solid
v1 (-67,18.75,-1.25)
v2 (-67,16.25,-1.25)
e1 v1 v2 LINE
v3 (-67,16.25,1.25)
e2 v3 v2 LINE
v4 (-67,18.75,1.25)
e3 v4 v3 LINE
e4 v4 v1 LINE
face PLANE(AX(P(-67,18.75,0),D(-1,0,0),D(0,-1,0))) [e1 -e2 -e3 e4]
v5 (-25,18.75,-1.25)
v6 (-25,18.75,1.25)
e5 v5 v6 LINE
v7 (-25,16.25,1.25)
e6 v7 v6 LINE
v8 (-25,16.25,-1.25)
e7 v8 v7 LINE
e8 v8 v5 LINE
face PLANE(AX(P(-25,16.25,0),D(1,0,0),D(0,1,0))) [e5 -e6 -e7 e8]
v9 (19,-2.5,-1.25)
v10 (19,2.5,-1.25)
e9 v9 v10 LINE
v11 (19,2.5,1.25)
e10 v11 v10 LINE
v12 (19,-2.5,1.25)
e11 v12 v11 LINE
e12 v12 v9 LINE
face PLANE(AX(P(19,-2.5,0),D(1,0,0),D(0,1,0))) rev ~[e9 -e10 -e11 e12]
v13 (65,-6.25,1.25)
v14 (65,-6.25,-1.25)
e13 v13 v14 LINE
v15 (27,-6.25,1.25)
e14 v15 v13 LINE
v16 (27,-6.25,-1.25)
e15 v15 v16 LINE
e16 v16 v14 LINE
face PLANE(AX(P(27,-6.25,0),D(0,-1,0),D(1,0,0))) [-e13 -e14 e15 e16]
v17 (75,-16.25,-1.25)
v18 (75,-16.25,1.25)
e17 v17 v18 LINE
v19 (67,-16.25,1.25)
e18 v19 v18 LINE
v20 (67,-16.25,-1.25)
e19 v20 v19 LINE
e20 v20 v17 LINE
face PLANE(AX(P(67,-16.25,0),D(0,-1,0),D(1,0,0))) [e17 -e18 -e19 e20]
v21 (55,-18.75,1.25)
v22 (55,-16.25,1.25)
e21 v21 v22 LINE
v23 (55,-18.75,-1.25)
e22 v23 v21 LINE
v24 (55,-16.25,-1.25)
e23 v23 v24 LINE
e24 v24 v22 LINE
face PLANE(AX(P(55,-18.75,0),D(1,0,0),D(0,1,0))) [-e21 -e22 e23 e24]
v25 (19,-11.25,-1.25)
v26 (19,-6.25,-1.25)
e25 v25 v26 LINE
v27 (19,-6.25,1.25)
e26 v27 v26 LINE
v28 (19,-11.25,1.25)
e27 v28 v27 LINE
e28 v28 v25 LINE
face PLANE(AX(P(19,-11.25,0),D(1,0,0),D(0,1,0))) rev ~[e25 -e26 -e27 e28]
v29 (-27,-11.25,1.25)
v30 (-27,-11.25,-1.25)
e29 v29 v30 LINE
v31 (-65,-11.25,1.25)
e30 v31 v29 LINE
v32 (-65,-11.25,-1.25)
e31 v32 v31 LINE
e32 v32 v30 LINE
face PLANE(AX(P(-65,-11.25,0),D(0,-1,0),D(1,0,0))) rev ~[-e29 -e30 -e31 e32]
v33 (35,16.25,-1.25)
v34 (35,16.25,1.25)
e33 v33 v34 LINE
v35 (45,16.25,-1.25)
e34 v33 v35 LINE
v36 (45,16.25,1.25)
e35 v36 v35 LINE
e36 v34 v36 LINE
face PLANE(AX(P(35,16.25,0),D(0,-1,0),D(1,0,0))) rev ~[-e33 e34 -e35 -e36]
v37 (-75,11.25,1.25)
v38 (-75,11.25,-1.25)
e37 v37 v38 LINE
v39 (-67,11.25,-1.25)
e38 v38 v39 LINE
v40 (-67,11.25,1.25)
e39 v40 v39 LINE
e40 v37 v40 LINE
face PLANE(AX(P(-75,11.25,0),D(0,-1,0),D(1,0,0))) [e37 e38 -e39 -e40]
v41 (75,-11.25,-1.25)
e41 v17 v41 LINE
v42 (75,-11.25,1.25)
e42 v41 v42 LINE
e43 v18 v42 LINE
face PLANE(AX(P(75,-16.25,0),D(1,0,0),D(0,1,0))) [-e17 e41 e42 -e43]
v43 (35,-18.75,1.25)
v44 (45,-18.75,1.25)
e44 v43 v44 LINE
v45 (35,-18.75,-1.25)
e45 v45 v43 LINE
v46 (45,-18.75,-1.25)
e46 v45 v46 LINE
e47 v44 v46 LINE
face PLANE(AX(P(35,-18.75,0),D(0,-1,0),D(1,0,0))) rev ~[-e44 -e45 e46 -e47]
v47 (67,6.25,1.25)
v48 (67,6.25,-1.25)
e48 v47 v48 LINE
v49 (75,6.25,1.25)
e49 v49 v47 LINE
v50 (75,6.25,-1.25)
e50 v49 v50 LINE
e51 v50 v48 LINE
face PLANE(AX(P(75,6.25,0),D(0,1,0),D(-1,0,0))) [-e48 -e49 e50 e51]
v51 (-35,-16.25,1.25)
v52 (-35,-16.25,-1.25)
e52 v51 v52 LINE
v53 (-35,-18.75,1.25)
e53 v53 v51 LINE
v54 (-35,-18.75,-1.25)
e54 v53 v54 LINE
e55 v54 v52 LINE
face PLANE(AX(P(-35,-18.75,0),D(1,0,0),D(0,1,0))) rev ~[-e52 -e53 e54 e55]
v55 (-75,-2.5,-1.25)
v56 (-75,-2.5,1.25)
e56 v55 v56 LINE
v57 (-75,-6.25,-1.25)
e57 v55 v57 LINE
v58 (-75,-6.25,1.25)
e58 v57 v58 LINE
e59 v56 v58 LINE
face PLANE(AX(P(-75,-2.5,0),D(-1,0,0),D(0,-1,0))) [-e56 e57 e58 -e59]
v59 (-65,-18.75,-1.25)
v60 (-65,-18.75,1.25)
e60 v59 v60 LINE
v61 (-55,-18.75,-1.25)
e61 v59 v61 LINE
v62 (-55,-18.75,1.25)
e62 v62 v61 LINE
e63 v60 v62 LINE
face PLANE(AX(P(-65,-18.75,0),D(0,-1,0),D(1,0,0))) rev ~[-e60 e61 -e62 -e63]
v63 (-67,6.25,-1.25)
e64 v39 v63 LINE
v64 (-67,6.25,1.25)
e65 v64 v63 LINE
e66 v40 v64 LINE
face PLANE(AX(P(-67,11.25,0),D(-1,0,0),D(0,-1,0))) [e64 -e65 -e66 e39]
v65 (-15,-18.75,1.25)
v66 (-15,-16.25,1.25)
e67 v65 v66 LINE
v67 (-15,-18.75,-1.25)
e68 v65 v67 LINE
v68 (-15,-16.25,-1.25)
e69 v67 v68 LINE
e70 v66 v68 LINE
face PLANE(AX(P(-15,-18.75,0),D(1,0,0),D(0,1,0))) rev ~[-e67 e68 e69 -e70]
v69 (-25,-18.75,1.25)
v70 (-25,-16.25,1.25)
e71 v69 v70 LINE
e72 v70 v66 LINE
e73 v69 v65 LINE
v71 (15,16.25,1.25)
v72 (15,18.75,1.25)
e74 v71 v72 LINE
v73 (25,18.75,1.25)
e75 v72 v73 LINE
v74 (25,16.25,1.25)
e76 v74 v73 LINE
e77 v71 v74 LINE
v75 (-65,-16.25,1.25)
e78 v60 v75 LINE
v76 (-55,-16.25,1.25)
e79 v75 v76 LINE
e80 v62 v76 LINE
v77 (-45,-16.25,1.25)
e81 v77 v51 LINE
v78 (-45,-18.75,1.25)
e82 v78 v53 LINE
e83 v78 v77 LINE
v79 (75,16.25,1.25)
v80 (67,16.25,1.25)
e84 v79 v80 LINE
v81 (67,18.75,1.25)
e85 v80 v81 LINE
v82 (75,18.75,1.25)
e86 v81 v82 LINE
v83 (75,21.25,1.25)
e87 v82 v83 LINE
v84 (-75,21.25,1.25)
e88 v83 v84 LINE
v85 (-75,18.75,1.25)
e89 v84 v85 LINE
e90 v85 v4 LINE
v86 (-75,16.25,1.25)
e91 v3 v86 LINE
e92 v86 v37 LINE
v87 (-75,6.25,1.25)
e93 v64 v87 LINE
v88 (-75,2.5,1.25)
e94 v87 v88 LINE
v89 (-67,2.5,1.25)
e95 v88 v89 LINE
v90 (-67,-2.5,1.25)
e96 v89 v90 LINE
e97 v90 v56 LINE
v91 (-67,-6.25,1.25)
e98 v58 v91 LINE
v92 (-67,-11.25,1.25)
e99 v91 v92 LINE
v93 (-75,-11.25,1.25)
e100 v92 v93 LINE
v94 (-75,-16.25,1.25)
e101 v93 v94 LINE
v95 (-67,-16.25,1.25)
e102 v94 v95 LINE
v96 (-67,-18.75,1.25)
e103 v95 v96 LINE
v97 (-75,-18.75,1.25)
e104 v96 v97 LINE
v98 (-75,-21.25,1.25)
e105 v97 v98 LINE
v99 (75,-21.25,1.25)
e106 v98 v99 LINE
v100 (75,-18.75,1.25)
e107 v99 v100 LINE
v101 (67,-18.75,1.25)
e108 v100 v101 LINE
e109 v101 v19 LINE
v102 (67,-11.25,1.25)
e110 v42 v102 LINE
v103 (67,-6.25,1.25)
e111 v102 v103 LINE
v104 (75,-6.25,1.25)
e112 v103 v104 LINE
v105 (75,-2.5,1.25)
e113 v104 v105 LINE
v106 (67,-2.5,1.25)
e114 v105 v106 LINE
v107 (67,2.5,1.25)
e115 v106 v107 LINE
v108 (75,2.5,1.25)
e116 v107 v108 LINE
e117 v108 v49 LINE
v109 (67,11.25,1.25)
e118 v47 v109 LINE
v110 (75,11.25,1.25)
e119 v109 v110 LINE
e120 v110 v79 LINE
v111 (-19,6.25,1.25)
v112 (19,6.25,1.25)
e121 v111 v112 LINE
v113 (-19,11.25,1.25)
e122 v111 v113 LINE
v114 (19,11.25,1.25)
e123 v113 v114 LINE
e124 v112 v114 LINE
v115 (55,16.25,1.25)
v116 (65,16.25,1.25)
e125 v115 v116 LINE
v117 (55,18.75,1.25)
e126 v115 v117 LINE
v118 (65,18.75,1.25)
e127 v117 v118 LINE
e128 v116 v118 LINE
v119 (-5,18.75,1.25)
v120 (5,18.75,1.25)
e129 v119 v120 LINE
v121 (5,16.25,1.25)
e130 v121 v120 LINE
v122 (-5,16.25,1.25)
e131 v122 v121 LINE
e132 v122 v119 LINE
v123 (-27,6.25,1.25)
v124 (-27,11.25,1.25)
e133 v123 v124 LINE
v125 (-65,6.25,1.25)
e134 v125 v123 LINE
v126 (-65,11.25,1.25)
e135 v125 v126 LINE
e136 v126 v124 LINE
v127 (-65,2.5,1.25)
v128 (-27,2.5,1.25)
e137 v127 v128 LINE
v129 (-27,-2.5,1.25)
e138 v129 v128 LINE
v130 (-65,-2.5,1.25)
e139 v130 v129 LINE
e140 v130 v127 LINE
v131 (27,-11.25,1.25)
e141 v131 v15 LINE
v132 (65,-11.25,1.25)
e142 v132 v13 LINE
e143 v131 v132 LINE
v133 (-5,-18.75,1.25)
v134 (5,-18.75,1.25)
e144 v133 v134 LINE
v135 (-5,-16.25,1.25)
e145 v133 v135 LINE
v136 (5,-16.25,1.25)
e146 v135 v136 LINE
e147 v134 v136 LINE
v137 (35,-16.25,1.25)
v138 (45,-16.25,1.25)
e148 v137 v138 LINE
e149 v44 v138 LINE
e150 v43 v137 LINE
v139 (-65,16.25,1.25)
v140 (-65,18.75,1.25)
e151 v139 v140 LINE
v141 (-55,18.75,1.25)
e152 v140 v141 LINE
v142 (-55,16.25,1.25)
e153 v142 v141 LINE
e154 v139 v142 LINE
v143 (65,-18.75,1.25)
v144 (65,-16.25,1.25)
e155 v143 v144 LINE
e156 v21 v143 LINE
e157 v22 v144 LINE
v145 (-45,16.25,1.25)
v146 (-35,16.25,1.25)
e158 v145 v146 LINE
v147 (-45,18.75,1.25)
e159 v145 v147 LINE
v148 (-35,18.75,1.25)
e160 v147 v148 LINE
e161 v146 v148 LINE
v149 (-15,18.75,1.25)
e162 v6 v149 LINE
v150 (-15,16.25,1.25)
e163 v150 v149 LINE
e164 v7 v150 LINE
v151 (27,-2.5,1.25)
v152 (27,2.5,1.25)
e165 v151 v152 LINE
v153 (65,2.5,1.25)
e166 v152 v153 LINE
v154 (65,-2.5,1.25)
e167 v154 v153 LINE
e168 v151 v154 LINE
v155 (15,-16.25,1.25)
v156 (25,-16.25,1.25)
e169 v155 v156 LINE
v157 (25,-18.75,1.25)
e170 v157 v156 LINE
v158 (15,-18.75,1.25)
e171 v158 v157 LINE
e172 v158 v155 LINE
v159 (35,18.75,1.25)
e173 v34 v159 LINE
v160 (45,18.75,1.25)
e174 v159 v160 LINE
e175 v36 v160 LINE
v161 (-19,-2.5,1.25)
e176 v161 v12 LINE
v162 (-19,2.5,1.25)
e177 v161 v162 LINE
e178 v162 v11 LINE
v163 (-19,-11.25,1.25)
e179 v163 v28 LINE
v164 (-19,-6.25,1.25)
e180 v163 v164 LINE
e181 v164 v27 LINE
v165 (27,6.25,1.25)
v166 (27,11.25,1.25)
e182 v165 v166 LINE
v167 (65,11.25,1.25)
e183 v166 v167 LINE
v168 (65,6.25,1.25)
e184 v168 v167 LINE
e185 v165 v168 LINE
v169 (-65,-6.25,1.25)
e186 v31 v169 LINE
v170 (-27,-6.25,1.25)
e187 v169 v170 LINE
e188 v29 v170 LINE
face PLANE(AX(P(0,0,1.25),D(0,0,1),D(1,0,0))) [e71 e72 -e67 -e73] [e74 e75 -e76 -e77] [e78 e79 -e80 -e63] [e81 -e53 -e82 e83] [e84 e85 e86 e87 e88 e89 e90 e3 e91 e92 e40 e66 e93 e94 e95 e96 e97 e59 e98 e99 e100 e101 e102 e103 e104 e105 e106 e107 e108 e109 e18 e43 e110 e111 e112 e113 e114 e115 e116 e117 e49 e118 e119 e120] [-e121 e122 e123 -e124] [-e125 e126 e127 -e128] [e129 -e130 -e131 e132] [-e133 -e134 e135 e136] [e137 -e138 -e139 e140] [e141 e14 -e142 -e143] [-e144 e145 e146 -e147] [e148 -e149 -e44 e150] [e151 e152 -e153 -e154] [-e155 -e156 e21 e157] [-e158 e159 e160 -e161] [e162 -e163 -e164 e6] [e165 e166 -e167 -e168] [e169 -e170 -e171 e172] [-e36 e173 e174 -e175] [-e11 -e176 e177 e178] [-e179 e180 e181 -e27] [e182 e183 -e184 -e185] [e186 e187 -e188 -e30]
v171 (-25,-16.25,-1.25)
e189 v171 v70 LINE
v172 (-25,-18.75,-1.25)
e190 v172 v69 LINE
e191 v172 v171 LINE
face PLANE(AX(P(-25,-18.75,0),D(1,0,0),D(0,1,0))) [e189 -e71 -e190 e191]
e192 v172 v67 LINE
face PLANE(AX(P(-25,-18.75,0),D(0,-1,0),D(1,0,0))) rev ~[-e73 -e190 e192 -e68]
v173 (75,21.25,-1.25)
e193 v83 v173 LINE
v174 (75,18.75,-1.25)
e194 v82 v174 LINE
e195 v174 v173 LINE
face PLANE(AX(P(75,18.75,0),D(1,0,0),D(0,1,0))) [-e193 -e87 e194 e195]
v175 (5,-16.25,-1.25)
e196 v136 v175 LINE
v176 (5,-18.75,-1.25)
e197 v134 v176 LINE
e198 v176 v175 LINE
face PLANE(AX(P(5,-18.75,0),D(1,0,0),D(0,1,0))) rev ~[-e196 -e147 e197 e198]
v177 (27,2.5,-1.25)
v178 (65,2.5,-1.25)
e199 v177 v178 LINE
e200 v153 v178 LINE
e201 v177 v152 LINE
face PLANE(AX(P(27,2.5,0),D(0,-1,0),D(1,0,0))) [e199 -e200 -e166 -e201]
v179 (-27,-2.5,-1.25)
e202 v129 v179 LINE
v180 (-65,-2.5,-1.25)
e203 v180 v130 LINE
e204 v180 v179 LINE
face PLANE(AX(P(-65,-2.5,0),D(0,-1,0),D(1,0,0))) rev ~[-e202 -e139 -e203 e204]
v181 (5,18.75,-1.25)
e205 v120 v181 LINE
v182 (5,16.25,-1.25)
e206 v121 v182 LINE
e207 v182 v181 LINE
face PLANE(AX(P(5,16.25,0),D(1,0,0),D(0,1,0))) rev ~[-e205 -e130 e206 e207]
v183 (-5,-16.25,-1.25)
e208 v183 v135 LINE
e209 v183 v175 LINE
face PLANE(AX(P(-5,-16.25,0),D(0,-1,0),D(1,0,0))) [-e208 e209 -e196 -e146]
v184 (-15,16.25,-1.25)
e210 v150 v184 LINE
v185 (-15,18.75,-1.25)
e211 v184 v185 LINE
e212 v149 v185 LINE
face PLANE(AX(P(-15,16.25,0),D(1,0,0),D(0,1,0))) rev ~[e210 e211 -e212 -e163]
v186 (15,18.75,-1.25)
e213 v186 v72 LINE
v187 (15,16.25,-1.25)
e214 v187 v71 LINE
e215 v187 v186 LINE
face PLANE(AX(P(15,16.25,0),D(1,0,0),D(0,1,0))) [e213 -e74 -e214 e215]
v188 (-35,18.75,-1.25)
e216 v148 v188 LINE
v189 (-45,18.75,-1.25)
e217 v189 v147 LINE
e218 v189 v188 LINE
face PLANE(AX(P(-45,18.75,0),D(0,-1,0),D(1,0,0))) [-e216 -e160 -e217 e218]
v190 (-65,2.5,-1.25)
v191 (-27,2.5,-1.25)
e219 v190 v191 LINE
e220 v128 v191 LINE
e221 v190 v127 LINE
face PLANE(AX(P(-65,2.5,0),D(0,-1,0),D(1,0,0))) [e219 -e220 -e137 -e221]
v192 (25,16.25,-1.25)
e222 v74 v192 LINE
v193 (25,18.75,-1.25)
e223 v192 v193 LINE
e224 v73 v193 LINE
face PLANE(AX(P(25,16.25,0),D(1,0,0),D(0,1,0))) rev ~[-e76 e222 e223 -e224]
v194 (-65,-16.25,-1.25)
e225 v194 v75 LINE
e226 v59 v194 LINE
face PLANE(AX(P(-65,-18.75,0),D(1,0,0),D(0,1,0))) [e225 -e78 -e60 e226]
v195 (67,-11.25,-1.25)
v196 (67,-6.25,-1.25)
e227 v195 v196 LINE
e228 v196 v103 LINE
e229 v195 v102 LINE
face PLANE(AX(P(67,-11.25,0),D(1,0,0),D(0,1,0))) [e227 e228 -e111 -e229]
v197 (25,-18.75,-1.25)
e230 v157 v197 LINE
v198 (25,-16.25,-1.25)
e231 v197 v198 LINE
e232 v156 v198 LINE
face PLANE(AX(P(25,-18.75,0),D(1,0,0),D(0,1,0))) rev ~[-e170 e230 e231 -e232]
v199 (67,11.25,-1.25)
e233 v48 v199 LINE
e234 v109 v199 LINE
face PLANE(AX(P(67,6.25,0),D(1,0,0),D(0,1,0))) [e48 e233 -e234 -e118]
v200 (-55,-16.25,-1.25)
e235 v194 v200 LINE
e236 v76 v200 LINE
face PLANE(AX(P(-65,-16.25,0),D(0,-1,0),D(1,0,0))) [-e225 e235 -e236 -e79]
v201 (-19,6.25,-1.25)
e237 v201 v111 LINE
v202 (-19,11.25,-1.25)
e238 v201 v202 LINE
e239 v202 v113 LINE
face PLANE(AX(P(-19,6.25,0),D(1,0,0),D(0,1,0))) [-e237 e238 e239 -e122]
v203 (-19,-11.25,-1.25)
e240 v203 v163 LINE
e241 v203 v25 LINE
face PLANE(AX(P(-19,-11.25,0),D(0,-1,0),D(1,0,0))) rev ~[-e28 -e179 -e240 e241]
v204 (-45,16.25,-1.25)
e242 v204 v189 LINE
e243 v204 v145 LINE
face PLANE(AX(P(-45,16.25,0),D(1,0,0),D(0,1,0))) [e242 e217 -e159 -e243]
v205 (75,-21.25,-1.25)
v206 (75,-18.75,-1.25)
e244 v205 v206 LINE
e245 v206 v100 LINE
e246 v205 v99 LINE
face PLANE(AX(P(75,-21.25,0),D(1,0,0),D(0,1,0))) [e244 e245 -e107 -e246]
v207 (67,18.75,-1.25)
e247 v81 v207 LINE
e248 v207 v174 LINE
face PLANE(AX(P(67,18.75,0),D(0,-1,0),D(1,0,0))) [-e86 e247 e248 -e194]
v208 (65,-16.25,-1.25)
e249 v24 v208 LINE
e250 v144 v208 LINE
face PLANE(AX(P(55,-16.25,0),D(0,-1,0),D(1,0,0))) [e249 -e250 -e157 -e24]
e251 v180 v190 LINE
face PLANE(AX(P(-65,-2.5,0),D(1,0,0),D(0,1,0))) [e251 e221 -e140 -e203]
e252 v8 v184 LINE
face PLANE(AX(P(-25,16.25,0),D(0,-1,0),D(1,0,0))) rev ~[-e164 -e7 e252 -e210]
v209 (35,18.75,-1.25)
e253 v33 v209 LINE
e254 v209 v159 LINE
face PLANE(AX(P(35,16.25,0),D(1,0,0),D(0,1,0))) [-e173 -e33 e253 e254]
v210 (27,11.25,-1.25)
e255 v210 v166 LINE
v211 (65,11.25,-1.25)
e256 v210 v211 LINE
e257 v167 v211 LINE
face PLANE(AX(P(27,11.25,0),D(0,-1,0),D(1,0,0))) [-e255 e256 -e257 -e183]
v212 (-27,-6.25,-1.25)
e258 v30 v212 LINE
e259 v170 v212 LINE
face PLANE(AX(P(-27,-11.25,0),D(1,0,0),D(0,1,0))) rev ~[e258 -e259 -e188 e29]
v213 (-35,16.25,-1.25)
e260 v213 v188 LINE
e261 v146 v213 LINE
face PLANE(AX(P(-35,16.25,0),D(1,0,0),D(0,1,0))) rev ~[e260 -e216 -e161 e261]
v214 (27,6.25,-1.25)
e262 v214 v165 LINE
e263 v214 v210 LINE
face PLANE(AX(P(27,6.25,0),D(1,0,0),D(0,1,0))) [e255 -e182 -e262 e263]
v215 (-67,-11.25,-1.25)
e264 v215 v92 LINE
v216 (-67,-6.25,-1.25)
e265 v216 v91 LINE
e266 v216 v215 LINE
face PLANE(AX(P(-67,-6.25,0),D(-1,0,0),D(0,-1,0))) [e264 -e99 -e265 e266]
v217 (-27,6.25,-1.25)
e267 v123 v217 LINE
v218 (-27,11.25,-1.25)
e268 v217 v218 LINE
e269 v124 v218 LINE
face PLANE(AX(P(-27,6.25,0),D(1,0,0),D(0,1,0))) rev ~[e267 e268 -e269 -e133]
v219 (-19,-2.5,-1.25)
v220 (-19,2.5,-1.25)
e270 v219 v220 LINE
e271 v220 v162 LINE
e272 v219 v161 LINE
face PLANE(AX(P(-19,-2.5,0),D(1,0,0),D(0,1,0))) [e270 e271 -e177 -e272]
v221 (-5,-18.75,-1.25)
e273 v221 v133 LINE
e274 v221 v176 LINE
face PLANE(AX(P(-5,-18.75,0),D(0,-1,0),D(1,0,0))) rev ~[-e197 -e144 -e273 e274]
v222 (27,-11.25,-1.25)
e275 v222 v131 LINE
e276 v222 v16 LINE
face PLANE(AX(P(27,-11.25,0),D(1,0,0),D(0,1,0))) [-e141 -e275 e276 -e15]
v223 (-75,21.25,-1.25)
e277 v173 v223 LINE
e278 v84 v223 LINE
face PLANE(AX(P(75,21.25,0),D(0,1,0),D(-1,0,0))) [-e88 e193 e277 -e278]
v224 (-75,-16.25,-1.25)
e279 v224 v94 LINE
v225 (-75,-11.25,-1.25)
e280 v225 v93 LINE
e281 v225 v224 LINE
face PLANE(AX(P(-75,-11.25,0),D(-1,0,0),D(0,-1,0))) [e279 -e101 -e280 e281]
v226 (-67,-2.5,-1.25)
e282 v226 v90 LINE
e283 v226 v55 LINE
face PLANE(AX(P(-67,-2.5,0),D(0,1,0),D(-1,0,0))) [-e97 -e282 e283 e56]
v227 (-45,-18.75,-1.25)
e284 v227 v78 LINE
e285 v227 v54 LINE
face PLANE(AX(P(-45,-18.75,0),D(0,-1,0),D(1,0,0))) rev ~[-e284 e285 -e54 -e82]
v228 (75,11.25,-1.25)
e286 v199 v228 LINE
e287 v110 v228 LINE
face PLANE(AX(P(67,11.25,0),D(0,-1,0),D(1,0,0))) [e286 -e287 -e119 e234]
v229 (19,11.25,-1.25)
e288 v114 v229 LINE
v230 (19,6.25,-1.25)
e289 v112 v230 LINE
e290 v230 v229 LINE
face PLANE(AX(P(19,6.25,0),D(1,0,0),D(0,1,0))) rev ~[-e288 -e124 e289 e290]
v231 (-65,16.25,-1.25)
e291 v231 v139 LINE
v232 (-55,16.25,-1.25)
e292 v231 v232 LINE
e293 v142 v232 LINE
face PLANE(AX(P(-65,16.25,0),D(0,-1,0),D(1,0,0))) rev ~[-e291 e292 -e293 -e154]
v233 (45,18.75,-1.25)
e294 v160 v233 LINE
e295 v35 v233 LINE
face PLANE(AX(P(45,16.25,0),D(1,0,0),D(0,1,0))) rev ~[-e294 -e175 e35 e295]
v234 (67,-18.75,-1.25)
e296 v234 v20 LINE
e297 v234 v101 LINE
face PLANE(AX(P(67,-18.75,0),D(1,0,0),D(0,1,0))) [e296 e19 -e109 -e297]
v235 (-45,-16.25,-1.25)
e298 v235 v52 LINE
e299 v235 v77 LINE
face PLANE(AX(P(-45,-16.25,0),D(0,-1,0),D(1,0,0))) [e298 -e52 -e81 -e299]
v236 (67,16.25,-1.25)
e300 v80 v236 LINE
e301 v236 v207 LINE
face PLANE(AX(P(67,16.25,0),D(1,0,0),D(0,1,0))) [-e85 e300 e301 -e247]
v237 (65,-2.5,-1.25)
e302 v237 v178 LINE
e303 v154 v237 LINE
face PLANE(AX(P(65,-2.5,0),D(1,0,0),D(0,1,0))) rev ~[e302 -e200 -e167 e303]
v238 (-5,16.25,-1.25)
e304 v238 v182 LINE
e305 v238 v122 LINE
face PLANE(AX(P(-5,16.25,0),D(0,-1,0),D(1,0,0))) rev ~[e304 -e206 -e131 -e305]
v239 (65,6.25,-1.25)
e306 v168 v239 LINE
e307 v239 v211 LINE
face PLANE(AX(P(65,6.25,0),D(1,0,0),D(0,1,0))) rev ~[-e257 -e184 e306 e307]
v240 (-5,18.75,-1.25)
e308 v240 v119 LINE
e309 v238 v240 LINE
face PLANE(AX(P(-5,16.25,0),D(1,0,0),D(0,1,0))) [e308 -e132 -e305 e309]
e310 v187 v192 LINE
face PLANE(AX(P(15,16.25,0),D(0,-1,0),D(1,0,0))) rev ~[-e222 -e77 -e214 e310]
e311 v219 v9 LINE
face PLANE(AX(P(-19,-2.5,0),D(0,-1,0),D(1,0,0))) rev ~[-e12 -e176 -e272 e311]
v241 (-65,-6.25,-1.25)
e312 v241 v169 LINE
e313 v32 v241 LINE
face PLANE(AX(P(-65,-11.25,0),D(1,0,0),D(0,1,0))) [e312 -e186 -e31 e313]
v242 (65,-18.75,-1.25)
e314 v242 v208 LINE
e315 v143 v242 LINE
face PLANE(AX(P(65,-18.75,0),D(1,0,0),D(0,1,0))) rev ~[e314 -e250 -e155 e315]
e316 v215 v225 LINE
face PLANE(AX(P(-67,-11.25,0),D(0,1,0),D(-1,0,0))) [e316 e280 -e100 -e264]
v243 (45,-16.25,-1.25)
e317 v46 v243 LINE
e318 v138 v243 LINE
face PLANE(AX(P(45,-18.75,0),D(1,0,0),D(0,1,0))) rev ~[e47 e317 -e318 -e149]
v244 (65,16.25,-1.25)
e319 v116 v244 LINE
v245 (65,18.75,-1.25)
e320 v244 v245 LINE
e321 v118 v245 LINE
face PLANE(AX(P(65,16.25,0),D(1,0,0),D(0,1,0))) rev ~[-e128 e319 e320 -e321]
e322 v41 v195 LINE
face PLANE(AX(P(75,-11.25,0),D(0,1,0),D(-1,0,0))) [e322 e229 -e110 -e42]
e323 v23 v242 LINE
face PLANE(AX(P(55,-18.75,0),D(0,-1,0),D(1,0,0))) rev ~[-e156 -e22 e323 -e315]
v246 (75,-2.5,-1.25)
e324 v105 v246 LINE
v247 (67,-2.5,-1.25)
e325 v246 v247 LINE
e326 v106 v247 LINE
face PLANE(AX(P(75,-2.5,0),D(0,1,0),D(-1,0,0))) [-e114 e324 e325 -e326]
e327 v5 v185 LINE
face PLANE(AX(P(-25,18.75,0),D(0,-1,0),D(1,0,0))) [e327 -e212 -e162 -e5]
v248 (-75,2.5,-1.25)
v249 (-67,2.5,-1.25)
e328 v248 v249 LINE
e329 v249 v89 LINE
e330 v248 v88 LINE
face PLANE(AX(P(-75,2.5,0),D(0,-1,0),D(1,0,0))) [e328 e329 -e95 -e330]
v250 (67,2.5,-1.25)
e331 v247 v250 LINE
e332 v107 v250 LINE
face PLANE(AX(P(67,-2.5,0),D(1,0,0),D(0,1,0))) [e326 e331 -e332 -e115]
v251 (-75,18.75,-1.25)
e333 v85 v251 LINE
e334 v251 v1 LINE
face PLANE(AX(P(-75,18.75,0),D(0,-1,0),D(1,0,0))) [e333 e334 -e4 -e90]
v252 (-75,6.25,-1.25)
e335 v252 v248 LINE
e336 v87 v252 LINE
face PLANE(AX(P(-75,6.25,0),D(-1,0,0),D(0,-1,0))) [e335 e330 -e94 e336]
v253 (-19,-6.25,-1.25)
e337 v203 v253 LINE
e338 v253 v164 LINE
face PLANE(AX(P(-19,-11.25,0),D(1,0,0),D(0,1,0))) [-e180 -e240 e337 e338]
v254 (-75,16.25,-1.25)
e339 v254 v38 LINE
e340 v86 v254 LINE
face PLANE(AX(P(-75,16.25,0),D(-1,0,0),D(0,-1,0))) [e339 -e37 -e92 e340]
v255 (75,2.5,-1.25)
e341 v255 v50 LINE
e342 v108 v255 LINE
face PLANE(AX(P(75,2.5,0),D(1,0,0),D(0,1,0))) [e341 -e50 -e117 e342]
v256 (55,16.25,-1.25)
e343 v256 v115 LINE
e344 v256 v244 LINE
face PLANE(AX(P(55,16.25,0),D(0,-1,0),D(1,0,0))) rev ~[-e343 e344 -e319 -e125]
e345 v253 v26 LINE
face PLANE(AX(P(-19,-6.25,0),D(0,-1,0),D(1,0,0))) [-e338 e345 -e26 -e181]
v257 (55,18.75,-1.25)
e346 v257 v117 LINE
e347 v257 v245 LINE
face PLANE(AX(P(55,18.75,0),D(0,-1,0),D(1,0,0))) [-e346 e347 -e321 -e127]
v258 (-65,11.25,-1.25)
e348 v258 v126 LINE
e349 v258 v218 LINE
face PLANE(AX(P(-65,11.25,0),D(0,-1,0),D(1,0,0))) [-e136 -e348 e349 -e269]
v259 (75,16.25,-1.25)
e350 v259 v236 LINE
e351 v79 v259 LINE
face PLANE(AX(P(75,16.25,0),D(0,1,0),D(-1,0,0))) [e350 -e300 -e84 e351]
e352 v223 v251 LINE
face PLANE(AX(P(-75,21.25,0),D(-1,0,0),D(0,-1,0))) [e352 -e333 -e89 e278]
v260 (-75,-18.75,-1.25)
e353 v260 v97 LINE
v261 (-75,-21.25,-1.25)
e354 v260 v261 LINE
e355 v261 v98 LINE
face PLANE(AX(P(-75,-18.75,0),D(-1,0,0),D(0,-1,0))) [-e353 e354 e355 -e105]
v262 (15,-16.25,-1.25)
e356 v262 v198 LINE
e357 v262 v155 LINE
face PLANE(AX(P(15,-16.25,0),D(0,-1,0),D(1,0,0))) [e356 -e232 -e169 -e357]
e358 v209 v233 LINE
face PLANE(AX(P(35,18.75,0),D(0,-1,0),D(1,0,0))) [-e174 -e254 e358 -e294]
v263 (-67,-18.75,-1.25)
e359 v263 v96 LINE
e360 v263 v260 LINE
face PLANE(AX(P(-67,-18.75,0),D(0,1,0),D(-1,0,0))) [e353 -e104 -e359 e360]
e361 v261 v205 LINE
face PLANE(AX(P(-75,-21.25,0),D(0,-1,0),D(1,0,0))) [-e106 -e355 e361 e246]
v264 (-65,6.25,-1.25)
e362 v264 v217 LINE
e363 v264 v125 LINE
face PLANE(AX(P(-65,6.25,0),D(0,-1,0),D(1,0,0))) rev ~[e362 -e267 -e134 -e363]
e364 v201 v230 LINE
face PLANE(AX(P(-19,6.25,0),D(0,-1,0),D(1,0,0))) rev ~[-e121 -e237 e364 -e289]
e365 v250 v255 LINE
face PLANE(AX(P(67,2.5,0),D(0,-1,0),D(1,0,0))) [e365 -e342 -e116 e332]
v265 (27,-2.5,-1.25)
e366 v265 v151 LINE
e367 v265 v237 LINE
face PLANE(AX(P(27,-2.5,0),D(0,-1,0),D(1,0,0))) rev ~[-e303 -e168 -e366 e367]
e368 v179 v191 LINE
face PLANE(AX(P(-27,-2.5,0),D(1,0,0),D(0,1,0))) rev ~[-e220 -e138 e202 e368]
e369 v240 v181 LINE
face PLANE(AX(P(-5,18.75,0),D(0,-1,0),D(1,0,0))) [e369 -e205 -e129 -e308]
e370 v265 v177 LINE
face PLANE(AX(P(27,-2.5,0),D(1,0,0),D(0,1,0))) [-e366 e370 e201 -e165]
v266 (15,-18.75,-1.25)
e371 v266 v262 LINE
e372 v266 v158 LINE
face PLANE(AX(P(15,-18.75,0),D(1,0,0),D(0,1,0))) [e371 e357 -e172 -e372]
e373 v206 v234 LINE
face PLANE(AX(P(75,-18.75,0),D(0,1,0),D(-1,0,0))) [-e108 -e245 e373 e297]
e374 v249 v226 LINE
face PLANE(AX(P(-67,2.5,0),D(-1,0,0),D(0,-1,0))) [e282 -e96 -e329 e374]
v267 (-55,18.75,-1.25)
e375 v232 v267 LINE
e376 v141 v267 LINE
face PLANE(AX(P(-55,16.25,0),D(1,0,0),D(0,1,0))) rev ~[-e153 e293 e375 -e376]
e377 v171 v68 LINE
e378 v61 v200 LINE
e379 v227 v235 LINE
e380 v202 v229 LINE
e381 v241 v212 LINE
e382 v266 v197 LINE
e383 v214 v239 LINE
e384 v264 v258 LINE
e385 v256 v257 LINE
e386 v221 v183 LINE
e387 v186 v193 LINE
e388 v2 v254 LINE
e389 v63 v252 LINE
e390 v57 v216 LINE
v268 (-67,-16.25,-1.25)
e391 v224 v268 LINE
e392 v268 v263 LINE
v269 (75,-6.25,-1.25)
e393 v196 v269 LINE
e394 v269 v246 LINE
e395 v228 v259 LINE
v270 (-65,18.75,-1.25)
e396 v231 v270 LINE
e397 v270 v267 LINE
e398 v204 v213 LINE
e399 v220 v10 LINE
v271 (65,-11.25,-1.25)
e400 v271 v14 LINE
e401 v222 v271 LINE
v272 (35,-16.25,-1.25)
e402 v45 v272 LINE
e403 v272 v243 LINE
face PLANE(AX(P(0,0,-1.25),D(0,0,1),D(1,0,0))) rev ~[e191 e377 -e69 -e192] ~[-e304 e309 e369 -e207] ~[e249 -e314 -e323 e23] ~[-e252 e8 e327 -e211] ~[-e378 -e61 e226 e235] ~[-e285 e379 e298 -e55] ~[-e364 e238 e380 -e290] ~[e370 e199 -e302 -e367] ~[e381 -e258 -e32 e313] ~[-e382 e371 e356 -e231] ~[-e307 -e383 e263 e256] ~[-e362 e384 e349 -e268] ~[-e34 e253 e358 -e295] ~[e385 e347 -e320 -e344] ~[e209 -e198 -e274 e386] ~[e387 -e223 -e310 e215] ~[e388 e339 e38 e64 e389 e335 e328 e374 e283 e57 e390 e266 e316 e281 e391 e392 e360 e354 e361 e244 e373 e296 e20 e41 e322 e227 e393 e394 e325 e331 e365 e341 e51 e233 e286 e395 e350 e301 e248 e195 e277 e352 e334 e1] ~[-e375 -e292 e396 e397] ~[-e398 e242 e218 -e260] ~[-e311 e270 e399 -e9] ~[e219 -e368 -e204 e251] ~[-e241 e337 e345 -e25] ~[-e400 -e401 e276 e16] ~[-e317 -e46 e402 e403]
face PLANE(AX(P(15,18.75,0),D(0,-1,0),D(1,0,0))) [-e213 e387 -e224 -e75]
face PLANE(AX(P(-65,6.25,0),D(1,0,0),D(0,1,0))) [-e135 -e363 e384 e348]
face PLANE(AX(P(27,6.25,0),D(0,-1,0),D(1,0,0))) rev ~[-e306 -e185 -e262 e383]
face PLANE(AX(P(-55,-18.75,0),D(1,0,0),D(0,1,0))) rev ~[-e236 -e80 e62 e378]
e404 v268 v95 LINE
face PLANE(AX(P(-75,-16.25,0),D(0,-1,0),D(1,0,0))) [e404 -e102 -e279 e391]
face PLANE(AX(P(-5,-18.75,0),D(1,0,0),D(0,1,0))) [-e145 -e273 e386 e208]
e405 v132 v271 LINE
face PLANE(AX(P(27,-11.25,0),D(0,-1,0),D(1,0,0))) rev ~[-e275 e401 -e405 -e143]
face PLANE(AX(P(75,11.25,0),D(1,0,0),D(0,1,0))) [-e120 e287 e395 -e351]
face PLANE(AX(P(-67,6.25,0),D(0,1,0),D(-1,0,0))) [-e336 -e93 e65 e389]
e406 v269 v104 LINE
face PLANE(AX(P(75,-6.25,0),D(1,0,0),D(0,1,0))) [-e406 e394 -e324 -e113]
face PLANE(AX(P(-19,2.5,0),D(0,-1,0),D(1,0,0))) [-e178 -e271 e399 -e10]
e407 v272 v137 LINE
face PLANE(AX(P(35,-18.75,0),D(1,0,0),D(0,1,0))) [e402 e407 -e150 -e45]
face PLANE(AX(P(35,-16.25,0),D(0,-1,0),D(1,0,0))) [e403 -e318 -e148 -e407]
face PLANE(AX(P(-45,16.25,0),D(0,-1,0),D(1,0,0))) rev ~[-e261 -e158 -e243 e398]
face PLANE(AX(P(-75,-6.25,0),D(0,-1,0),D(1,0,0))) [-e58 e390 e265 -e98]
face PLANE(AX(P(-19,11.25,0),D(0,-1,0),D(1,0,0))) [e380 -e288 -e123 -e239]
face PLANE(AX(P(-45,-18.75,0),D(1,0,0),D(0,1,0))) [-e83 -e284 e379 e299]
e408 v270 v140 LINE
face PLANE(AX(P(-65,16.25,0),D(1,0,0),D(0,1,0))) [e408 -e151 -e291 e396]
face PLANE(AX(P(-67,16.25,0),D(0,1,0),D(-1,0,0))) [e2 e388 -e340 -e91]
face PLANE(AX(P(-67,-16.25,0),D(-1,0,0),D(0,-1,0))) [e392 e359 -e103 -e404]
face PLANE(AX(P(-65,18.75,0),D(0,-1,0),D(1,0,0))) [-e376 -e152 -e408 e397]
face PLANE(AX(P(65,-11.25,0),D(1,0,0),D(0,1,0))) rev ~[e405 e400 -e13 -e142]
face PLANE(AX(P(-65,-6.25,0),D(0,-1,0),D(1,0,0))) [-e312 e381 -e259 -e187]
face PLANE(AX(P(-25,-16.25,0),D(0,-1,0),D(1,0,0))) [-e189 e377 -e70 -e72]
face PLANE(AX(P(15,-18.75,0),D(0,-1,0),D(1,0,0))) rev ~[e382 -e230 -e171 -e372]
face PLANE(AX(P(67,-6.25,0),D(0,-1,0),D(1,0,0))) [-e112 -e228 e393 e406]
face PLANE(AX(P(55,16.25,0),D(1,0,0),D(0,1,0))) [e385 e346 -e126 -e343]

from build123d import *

# Parameters (mm, degrees)
SKETCH1_W           = 38
SKETCH1_H           = 5
SKETCH1_W_2         = 10
SKETCH1_H_2         = 2.5
BOSS_EXTRUDE1_DEPTH = 1.25


with BuildPart() as part:
    # Sketch1 → Boss-Extrude1 (new, symmetric)
    with BuildSketch(Plane.XY):
        Polygon((-75, 6.25), (-75, 2.5), (-67, 2.5), (-67, -2.5), (-75, -2.5), (-75, -6.25), (-67, -6.25), (-67, -11.25), (-75, -11.25), (-75, -16.25), (-67, -16.25), (-67, -18.75), (-75, -18.75), (-75, -21.25), (75, -21.25), (75, -18.75), (67, -18.75), (67, -16.25), (75, -16.25), (75, -11.25), (67, -11.25), (67, -6.25), (75, -6.25), (75, -2.5), (67, -2.5), (67, 2.5), (75, 2.5), (75, 6.25), (67, 6.25), (67, 11.25), (75, 11.25), (75, 16.25), (67, 16.25), (67, 18.75), (75, 18.75), (75, 21.25), (-75, 21.25), (-75, 18.75), (-67, 18.75), (-67, 16.25), (-75, 16.25), (-75, 11.25), (-67, 11.25), (-67, 6.25), align=None)
        with Locations((0, 8.75)):
            Rectangle(SKETCH1_W, SKETCH1_H, mode=Mode.SUBTRACT)
        Rectangle(SKETCH1_W, SKETCH1_H, mode=Mode.SUBTRACT)
        with Locations((0, -17.5)):
            Rectangle(SKETCH1_W_2, SKETCH1_H_2, mode=Mode.SUBTRACT)
        with Locations((0, 17.5)):
            Rectangle(SKETCH1_W_2, SKETCH1_H_2, mode=Mode.SUBTRACT)
        with Locations((20, 17.5)):
            Rectangle(SKETCH1_W_2, SKETCH1_H_2, mode=Mode.SUBTRACT)
        with Locations((20, -17.5)):
            Rectangle(SKETCH1_W_2, SKETCH1_H_2, mode=Mode.SUBTRACT)
        with Locations((40, 17.5)):
            Rectangle(SKETCH1_W_2, SKETCH1_H_2, mode=Mode.SUBTRACT)
        with Locations((40, -17.5)):
            Rectangle(SKETCH1_W_2, SKETCH1_H_2, mode=Mode.SUBTRACT)
        with Locations((60, 17.5)):
            Rectangle(SKETCH1_W_2, SKETCH1_H_2, mode=Mode.SUBTRACT)
        with Locations((60, -17.5)):
            Rectangle(SKETCH1_W_2, SKETCH1_H_2, mode=Mode.SUBTRACT)
        with Locations((-20, -17.5)):
            Rectangle(SKETCH1_W_2, SKETCH1_H_2, mode=Mode.SUBTRACT)
        with Locations((-20, 17.5)):
            Rectangle(SKETCH1_W_2, SKETCH1_H_2, mode=Mode.SUBTRACT)
        with Locations((-40, -17.5)):
            Rectangle(SKETCH1_W_2, SKETCH1_H_2, mode=Mode.SUBTRACT)
        with Locations((-40, 17.5)):
            Rectangle(SKETCH1_W_2, SKETCH1_H_2, mode=Mode.SUBTRACT)
        with Locations((-60, -17.5)):
            Rectangle(SKETCH1_W_2, SKETCH1_H_2, mode=Mode.SUBTRACT)
        with Locations((-60, 17.5)):
            Rectangle(SKETCH1_W_2, SKETCH1_H_2, mode=Mode.SUBTRACT)
        with Locations((0, -8.75)):
            Rectangle(SKETCH1_W, SKETCH1_H, mode=Mode.SUBTRACT)
        with Locations((-46, 0)):
            Rectangle(SKETCH1_W, SKETCH1_H, mode=Mode.SUBTRACT)
        with Locations((-46, 8.75)):
            Rectangle(SKETCH1_W, SKETCH1_H, mode=Mode.SUBTRACT)
        with Locations((-46, -8.75)):
            Rectangle(SKETCH1_W, SKETCH1_H, mode=Mode.SUBTRACT)
        with Locations((46, 8.75)):
            Rectangle(SKETCH1_W, SKETCH1_H, mode=Mode.SUBTRACT)
        with Locations((46, 0)):
            Rectangle(SKETCH1_W, SKETCH1_H, mode=Mode.SUBTRACT)
        with Locations((46, -8.75)):
            Rectangle(SKETCH1_W, SKETCH1_H, mode=Mode.SUBTRACT)
    extrude(amount=BOSS_EXTRUDE1_DEPTH, both=True)


solid = part.part
